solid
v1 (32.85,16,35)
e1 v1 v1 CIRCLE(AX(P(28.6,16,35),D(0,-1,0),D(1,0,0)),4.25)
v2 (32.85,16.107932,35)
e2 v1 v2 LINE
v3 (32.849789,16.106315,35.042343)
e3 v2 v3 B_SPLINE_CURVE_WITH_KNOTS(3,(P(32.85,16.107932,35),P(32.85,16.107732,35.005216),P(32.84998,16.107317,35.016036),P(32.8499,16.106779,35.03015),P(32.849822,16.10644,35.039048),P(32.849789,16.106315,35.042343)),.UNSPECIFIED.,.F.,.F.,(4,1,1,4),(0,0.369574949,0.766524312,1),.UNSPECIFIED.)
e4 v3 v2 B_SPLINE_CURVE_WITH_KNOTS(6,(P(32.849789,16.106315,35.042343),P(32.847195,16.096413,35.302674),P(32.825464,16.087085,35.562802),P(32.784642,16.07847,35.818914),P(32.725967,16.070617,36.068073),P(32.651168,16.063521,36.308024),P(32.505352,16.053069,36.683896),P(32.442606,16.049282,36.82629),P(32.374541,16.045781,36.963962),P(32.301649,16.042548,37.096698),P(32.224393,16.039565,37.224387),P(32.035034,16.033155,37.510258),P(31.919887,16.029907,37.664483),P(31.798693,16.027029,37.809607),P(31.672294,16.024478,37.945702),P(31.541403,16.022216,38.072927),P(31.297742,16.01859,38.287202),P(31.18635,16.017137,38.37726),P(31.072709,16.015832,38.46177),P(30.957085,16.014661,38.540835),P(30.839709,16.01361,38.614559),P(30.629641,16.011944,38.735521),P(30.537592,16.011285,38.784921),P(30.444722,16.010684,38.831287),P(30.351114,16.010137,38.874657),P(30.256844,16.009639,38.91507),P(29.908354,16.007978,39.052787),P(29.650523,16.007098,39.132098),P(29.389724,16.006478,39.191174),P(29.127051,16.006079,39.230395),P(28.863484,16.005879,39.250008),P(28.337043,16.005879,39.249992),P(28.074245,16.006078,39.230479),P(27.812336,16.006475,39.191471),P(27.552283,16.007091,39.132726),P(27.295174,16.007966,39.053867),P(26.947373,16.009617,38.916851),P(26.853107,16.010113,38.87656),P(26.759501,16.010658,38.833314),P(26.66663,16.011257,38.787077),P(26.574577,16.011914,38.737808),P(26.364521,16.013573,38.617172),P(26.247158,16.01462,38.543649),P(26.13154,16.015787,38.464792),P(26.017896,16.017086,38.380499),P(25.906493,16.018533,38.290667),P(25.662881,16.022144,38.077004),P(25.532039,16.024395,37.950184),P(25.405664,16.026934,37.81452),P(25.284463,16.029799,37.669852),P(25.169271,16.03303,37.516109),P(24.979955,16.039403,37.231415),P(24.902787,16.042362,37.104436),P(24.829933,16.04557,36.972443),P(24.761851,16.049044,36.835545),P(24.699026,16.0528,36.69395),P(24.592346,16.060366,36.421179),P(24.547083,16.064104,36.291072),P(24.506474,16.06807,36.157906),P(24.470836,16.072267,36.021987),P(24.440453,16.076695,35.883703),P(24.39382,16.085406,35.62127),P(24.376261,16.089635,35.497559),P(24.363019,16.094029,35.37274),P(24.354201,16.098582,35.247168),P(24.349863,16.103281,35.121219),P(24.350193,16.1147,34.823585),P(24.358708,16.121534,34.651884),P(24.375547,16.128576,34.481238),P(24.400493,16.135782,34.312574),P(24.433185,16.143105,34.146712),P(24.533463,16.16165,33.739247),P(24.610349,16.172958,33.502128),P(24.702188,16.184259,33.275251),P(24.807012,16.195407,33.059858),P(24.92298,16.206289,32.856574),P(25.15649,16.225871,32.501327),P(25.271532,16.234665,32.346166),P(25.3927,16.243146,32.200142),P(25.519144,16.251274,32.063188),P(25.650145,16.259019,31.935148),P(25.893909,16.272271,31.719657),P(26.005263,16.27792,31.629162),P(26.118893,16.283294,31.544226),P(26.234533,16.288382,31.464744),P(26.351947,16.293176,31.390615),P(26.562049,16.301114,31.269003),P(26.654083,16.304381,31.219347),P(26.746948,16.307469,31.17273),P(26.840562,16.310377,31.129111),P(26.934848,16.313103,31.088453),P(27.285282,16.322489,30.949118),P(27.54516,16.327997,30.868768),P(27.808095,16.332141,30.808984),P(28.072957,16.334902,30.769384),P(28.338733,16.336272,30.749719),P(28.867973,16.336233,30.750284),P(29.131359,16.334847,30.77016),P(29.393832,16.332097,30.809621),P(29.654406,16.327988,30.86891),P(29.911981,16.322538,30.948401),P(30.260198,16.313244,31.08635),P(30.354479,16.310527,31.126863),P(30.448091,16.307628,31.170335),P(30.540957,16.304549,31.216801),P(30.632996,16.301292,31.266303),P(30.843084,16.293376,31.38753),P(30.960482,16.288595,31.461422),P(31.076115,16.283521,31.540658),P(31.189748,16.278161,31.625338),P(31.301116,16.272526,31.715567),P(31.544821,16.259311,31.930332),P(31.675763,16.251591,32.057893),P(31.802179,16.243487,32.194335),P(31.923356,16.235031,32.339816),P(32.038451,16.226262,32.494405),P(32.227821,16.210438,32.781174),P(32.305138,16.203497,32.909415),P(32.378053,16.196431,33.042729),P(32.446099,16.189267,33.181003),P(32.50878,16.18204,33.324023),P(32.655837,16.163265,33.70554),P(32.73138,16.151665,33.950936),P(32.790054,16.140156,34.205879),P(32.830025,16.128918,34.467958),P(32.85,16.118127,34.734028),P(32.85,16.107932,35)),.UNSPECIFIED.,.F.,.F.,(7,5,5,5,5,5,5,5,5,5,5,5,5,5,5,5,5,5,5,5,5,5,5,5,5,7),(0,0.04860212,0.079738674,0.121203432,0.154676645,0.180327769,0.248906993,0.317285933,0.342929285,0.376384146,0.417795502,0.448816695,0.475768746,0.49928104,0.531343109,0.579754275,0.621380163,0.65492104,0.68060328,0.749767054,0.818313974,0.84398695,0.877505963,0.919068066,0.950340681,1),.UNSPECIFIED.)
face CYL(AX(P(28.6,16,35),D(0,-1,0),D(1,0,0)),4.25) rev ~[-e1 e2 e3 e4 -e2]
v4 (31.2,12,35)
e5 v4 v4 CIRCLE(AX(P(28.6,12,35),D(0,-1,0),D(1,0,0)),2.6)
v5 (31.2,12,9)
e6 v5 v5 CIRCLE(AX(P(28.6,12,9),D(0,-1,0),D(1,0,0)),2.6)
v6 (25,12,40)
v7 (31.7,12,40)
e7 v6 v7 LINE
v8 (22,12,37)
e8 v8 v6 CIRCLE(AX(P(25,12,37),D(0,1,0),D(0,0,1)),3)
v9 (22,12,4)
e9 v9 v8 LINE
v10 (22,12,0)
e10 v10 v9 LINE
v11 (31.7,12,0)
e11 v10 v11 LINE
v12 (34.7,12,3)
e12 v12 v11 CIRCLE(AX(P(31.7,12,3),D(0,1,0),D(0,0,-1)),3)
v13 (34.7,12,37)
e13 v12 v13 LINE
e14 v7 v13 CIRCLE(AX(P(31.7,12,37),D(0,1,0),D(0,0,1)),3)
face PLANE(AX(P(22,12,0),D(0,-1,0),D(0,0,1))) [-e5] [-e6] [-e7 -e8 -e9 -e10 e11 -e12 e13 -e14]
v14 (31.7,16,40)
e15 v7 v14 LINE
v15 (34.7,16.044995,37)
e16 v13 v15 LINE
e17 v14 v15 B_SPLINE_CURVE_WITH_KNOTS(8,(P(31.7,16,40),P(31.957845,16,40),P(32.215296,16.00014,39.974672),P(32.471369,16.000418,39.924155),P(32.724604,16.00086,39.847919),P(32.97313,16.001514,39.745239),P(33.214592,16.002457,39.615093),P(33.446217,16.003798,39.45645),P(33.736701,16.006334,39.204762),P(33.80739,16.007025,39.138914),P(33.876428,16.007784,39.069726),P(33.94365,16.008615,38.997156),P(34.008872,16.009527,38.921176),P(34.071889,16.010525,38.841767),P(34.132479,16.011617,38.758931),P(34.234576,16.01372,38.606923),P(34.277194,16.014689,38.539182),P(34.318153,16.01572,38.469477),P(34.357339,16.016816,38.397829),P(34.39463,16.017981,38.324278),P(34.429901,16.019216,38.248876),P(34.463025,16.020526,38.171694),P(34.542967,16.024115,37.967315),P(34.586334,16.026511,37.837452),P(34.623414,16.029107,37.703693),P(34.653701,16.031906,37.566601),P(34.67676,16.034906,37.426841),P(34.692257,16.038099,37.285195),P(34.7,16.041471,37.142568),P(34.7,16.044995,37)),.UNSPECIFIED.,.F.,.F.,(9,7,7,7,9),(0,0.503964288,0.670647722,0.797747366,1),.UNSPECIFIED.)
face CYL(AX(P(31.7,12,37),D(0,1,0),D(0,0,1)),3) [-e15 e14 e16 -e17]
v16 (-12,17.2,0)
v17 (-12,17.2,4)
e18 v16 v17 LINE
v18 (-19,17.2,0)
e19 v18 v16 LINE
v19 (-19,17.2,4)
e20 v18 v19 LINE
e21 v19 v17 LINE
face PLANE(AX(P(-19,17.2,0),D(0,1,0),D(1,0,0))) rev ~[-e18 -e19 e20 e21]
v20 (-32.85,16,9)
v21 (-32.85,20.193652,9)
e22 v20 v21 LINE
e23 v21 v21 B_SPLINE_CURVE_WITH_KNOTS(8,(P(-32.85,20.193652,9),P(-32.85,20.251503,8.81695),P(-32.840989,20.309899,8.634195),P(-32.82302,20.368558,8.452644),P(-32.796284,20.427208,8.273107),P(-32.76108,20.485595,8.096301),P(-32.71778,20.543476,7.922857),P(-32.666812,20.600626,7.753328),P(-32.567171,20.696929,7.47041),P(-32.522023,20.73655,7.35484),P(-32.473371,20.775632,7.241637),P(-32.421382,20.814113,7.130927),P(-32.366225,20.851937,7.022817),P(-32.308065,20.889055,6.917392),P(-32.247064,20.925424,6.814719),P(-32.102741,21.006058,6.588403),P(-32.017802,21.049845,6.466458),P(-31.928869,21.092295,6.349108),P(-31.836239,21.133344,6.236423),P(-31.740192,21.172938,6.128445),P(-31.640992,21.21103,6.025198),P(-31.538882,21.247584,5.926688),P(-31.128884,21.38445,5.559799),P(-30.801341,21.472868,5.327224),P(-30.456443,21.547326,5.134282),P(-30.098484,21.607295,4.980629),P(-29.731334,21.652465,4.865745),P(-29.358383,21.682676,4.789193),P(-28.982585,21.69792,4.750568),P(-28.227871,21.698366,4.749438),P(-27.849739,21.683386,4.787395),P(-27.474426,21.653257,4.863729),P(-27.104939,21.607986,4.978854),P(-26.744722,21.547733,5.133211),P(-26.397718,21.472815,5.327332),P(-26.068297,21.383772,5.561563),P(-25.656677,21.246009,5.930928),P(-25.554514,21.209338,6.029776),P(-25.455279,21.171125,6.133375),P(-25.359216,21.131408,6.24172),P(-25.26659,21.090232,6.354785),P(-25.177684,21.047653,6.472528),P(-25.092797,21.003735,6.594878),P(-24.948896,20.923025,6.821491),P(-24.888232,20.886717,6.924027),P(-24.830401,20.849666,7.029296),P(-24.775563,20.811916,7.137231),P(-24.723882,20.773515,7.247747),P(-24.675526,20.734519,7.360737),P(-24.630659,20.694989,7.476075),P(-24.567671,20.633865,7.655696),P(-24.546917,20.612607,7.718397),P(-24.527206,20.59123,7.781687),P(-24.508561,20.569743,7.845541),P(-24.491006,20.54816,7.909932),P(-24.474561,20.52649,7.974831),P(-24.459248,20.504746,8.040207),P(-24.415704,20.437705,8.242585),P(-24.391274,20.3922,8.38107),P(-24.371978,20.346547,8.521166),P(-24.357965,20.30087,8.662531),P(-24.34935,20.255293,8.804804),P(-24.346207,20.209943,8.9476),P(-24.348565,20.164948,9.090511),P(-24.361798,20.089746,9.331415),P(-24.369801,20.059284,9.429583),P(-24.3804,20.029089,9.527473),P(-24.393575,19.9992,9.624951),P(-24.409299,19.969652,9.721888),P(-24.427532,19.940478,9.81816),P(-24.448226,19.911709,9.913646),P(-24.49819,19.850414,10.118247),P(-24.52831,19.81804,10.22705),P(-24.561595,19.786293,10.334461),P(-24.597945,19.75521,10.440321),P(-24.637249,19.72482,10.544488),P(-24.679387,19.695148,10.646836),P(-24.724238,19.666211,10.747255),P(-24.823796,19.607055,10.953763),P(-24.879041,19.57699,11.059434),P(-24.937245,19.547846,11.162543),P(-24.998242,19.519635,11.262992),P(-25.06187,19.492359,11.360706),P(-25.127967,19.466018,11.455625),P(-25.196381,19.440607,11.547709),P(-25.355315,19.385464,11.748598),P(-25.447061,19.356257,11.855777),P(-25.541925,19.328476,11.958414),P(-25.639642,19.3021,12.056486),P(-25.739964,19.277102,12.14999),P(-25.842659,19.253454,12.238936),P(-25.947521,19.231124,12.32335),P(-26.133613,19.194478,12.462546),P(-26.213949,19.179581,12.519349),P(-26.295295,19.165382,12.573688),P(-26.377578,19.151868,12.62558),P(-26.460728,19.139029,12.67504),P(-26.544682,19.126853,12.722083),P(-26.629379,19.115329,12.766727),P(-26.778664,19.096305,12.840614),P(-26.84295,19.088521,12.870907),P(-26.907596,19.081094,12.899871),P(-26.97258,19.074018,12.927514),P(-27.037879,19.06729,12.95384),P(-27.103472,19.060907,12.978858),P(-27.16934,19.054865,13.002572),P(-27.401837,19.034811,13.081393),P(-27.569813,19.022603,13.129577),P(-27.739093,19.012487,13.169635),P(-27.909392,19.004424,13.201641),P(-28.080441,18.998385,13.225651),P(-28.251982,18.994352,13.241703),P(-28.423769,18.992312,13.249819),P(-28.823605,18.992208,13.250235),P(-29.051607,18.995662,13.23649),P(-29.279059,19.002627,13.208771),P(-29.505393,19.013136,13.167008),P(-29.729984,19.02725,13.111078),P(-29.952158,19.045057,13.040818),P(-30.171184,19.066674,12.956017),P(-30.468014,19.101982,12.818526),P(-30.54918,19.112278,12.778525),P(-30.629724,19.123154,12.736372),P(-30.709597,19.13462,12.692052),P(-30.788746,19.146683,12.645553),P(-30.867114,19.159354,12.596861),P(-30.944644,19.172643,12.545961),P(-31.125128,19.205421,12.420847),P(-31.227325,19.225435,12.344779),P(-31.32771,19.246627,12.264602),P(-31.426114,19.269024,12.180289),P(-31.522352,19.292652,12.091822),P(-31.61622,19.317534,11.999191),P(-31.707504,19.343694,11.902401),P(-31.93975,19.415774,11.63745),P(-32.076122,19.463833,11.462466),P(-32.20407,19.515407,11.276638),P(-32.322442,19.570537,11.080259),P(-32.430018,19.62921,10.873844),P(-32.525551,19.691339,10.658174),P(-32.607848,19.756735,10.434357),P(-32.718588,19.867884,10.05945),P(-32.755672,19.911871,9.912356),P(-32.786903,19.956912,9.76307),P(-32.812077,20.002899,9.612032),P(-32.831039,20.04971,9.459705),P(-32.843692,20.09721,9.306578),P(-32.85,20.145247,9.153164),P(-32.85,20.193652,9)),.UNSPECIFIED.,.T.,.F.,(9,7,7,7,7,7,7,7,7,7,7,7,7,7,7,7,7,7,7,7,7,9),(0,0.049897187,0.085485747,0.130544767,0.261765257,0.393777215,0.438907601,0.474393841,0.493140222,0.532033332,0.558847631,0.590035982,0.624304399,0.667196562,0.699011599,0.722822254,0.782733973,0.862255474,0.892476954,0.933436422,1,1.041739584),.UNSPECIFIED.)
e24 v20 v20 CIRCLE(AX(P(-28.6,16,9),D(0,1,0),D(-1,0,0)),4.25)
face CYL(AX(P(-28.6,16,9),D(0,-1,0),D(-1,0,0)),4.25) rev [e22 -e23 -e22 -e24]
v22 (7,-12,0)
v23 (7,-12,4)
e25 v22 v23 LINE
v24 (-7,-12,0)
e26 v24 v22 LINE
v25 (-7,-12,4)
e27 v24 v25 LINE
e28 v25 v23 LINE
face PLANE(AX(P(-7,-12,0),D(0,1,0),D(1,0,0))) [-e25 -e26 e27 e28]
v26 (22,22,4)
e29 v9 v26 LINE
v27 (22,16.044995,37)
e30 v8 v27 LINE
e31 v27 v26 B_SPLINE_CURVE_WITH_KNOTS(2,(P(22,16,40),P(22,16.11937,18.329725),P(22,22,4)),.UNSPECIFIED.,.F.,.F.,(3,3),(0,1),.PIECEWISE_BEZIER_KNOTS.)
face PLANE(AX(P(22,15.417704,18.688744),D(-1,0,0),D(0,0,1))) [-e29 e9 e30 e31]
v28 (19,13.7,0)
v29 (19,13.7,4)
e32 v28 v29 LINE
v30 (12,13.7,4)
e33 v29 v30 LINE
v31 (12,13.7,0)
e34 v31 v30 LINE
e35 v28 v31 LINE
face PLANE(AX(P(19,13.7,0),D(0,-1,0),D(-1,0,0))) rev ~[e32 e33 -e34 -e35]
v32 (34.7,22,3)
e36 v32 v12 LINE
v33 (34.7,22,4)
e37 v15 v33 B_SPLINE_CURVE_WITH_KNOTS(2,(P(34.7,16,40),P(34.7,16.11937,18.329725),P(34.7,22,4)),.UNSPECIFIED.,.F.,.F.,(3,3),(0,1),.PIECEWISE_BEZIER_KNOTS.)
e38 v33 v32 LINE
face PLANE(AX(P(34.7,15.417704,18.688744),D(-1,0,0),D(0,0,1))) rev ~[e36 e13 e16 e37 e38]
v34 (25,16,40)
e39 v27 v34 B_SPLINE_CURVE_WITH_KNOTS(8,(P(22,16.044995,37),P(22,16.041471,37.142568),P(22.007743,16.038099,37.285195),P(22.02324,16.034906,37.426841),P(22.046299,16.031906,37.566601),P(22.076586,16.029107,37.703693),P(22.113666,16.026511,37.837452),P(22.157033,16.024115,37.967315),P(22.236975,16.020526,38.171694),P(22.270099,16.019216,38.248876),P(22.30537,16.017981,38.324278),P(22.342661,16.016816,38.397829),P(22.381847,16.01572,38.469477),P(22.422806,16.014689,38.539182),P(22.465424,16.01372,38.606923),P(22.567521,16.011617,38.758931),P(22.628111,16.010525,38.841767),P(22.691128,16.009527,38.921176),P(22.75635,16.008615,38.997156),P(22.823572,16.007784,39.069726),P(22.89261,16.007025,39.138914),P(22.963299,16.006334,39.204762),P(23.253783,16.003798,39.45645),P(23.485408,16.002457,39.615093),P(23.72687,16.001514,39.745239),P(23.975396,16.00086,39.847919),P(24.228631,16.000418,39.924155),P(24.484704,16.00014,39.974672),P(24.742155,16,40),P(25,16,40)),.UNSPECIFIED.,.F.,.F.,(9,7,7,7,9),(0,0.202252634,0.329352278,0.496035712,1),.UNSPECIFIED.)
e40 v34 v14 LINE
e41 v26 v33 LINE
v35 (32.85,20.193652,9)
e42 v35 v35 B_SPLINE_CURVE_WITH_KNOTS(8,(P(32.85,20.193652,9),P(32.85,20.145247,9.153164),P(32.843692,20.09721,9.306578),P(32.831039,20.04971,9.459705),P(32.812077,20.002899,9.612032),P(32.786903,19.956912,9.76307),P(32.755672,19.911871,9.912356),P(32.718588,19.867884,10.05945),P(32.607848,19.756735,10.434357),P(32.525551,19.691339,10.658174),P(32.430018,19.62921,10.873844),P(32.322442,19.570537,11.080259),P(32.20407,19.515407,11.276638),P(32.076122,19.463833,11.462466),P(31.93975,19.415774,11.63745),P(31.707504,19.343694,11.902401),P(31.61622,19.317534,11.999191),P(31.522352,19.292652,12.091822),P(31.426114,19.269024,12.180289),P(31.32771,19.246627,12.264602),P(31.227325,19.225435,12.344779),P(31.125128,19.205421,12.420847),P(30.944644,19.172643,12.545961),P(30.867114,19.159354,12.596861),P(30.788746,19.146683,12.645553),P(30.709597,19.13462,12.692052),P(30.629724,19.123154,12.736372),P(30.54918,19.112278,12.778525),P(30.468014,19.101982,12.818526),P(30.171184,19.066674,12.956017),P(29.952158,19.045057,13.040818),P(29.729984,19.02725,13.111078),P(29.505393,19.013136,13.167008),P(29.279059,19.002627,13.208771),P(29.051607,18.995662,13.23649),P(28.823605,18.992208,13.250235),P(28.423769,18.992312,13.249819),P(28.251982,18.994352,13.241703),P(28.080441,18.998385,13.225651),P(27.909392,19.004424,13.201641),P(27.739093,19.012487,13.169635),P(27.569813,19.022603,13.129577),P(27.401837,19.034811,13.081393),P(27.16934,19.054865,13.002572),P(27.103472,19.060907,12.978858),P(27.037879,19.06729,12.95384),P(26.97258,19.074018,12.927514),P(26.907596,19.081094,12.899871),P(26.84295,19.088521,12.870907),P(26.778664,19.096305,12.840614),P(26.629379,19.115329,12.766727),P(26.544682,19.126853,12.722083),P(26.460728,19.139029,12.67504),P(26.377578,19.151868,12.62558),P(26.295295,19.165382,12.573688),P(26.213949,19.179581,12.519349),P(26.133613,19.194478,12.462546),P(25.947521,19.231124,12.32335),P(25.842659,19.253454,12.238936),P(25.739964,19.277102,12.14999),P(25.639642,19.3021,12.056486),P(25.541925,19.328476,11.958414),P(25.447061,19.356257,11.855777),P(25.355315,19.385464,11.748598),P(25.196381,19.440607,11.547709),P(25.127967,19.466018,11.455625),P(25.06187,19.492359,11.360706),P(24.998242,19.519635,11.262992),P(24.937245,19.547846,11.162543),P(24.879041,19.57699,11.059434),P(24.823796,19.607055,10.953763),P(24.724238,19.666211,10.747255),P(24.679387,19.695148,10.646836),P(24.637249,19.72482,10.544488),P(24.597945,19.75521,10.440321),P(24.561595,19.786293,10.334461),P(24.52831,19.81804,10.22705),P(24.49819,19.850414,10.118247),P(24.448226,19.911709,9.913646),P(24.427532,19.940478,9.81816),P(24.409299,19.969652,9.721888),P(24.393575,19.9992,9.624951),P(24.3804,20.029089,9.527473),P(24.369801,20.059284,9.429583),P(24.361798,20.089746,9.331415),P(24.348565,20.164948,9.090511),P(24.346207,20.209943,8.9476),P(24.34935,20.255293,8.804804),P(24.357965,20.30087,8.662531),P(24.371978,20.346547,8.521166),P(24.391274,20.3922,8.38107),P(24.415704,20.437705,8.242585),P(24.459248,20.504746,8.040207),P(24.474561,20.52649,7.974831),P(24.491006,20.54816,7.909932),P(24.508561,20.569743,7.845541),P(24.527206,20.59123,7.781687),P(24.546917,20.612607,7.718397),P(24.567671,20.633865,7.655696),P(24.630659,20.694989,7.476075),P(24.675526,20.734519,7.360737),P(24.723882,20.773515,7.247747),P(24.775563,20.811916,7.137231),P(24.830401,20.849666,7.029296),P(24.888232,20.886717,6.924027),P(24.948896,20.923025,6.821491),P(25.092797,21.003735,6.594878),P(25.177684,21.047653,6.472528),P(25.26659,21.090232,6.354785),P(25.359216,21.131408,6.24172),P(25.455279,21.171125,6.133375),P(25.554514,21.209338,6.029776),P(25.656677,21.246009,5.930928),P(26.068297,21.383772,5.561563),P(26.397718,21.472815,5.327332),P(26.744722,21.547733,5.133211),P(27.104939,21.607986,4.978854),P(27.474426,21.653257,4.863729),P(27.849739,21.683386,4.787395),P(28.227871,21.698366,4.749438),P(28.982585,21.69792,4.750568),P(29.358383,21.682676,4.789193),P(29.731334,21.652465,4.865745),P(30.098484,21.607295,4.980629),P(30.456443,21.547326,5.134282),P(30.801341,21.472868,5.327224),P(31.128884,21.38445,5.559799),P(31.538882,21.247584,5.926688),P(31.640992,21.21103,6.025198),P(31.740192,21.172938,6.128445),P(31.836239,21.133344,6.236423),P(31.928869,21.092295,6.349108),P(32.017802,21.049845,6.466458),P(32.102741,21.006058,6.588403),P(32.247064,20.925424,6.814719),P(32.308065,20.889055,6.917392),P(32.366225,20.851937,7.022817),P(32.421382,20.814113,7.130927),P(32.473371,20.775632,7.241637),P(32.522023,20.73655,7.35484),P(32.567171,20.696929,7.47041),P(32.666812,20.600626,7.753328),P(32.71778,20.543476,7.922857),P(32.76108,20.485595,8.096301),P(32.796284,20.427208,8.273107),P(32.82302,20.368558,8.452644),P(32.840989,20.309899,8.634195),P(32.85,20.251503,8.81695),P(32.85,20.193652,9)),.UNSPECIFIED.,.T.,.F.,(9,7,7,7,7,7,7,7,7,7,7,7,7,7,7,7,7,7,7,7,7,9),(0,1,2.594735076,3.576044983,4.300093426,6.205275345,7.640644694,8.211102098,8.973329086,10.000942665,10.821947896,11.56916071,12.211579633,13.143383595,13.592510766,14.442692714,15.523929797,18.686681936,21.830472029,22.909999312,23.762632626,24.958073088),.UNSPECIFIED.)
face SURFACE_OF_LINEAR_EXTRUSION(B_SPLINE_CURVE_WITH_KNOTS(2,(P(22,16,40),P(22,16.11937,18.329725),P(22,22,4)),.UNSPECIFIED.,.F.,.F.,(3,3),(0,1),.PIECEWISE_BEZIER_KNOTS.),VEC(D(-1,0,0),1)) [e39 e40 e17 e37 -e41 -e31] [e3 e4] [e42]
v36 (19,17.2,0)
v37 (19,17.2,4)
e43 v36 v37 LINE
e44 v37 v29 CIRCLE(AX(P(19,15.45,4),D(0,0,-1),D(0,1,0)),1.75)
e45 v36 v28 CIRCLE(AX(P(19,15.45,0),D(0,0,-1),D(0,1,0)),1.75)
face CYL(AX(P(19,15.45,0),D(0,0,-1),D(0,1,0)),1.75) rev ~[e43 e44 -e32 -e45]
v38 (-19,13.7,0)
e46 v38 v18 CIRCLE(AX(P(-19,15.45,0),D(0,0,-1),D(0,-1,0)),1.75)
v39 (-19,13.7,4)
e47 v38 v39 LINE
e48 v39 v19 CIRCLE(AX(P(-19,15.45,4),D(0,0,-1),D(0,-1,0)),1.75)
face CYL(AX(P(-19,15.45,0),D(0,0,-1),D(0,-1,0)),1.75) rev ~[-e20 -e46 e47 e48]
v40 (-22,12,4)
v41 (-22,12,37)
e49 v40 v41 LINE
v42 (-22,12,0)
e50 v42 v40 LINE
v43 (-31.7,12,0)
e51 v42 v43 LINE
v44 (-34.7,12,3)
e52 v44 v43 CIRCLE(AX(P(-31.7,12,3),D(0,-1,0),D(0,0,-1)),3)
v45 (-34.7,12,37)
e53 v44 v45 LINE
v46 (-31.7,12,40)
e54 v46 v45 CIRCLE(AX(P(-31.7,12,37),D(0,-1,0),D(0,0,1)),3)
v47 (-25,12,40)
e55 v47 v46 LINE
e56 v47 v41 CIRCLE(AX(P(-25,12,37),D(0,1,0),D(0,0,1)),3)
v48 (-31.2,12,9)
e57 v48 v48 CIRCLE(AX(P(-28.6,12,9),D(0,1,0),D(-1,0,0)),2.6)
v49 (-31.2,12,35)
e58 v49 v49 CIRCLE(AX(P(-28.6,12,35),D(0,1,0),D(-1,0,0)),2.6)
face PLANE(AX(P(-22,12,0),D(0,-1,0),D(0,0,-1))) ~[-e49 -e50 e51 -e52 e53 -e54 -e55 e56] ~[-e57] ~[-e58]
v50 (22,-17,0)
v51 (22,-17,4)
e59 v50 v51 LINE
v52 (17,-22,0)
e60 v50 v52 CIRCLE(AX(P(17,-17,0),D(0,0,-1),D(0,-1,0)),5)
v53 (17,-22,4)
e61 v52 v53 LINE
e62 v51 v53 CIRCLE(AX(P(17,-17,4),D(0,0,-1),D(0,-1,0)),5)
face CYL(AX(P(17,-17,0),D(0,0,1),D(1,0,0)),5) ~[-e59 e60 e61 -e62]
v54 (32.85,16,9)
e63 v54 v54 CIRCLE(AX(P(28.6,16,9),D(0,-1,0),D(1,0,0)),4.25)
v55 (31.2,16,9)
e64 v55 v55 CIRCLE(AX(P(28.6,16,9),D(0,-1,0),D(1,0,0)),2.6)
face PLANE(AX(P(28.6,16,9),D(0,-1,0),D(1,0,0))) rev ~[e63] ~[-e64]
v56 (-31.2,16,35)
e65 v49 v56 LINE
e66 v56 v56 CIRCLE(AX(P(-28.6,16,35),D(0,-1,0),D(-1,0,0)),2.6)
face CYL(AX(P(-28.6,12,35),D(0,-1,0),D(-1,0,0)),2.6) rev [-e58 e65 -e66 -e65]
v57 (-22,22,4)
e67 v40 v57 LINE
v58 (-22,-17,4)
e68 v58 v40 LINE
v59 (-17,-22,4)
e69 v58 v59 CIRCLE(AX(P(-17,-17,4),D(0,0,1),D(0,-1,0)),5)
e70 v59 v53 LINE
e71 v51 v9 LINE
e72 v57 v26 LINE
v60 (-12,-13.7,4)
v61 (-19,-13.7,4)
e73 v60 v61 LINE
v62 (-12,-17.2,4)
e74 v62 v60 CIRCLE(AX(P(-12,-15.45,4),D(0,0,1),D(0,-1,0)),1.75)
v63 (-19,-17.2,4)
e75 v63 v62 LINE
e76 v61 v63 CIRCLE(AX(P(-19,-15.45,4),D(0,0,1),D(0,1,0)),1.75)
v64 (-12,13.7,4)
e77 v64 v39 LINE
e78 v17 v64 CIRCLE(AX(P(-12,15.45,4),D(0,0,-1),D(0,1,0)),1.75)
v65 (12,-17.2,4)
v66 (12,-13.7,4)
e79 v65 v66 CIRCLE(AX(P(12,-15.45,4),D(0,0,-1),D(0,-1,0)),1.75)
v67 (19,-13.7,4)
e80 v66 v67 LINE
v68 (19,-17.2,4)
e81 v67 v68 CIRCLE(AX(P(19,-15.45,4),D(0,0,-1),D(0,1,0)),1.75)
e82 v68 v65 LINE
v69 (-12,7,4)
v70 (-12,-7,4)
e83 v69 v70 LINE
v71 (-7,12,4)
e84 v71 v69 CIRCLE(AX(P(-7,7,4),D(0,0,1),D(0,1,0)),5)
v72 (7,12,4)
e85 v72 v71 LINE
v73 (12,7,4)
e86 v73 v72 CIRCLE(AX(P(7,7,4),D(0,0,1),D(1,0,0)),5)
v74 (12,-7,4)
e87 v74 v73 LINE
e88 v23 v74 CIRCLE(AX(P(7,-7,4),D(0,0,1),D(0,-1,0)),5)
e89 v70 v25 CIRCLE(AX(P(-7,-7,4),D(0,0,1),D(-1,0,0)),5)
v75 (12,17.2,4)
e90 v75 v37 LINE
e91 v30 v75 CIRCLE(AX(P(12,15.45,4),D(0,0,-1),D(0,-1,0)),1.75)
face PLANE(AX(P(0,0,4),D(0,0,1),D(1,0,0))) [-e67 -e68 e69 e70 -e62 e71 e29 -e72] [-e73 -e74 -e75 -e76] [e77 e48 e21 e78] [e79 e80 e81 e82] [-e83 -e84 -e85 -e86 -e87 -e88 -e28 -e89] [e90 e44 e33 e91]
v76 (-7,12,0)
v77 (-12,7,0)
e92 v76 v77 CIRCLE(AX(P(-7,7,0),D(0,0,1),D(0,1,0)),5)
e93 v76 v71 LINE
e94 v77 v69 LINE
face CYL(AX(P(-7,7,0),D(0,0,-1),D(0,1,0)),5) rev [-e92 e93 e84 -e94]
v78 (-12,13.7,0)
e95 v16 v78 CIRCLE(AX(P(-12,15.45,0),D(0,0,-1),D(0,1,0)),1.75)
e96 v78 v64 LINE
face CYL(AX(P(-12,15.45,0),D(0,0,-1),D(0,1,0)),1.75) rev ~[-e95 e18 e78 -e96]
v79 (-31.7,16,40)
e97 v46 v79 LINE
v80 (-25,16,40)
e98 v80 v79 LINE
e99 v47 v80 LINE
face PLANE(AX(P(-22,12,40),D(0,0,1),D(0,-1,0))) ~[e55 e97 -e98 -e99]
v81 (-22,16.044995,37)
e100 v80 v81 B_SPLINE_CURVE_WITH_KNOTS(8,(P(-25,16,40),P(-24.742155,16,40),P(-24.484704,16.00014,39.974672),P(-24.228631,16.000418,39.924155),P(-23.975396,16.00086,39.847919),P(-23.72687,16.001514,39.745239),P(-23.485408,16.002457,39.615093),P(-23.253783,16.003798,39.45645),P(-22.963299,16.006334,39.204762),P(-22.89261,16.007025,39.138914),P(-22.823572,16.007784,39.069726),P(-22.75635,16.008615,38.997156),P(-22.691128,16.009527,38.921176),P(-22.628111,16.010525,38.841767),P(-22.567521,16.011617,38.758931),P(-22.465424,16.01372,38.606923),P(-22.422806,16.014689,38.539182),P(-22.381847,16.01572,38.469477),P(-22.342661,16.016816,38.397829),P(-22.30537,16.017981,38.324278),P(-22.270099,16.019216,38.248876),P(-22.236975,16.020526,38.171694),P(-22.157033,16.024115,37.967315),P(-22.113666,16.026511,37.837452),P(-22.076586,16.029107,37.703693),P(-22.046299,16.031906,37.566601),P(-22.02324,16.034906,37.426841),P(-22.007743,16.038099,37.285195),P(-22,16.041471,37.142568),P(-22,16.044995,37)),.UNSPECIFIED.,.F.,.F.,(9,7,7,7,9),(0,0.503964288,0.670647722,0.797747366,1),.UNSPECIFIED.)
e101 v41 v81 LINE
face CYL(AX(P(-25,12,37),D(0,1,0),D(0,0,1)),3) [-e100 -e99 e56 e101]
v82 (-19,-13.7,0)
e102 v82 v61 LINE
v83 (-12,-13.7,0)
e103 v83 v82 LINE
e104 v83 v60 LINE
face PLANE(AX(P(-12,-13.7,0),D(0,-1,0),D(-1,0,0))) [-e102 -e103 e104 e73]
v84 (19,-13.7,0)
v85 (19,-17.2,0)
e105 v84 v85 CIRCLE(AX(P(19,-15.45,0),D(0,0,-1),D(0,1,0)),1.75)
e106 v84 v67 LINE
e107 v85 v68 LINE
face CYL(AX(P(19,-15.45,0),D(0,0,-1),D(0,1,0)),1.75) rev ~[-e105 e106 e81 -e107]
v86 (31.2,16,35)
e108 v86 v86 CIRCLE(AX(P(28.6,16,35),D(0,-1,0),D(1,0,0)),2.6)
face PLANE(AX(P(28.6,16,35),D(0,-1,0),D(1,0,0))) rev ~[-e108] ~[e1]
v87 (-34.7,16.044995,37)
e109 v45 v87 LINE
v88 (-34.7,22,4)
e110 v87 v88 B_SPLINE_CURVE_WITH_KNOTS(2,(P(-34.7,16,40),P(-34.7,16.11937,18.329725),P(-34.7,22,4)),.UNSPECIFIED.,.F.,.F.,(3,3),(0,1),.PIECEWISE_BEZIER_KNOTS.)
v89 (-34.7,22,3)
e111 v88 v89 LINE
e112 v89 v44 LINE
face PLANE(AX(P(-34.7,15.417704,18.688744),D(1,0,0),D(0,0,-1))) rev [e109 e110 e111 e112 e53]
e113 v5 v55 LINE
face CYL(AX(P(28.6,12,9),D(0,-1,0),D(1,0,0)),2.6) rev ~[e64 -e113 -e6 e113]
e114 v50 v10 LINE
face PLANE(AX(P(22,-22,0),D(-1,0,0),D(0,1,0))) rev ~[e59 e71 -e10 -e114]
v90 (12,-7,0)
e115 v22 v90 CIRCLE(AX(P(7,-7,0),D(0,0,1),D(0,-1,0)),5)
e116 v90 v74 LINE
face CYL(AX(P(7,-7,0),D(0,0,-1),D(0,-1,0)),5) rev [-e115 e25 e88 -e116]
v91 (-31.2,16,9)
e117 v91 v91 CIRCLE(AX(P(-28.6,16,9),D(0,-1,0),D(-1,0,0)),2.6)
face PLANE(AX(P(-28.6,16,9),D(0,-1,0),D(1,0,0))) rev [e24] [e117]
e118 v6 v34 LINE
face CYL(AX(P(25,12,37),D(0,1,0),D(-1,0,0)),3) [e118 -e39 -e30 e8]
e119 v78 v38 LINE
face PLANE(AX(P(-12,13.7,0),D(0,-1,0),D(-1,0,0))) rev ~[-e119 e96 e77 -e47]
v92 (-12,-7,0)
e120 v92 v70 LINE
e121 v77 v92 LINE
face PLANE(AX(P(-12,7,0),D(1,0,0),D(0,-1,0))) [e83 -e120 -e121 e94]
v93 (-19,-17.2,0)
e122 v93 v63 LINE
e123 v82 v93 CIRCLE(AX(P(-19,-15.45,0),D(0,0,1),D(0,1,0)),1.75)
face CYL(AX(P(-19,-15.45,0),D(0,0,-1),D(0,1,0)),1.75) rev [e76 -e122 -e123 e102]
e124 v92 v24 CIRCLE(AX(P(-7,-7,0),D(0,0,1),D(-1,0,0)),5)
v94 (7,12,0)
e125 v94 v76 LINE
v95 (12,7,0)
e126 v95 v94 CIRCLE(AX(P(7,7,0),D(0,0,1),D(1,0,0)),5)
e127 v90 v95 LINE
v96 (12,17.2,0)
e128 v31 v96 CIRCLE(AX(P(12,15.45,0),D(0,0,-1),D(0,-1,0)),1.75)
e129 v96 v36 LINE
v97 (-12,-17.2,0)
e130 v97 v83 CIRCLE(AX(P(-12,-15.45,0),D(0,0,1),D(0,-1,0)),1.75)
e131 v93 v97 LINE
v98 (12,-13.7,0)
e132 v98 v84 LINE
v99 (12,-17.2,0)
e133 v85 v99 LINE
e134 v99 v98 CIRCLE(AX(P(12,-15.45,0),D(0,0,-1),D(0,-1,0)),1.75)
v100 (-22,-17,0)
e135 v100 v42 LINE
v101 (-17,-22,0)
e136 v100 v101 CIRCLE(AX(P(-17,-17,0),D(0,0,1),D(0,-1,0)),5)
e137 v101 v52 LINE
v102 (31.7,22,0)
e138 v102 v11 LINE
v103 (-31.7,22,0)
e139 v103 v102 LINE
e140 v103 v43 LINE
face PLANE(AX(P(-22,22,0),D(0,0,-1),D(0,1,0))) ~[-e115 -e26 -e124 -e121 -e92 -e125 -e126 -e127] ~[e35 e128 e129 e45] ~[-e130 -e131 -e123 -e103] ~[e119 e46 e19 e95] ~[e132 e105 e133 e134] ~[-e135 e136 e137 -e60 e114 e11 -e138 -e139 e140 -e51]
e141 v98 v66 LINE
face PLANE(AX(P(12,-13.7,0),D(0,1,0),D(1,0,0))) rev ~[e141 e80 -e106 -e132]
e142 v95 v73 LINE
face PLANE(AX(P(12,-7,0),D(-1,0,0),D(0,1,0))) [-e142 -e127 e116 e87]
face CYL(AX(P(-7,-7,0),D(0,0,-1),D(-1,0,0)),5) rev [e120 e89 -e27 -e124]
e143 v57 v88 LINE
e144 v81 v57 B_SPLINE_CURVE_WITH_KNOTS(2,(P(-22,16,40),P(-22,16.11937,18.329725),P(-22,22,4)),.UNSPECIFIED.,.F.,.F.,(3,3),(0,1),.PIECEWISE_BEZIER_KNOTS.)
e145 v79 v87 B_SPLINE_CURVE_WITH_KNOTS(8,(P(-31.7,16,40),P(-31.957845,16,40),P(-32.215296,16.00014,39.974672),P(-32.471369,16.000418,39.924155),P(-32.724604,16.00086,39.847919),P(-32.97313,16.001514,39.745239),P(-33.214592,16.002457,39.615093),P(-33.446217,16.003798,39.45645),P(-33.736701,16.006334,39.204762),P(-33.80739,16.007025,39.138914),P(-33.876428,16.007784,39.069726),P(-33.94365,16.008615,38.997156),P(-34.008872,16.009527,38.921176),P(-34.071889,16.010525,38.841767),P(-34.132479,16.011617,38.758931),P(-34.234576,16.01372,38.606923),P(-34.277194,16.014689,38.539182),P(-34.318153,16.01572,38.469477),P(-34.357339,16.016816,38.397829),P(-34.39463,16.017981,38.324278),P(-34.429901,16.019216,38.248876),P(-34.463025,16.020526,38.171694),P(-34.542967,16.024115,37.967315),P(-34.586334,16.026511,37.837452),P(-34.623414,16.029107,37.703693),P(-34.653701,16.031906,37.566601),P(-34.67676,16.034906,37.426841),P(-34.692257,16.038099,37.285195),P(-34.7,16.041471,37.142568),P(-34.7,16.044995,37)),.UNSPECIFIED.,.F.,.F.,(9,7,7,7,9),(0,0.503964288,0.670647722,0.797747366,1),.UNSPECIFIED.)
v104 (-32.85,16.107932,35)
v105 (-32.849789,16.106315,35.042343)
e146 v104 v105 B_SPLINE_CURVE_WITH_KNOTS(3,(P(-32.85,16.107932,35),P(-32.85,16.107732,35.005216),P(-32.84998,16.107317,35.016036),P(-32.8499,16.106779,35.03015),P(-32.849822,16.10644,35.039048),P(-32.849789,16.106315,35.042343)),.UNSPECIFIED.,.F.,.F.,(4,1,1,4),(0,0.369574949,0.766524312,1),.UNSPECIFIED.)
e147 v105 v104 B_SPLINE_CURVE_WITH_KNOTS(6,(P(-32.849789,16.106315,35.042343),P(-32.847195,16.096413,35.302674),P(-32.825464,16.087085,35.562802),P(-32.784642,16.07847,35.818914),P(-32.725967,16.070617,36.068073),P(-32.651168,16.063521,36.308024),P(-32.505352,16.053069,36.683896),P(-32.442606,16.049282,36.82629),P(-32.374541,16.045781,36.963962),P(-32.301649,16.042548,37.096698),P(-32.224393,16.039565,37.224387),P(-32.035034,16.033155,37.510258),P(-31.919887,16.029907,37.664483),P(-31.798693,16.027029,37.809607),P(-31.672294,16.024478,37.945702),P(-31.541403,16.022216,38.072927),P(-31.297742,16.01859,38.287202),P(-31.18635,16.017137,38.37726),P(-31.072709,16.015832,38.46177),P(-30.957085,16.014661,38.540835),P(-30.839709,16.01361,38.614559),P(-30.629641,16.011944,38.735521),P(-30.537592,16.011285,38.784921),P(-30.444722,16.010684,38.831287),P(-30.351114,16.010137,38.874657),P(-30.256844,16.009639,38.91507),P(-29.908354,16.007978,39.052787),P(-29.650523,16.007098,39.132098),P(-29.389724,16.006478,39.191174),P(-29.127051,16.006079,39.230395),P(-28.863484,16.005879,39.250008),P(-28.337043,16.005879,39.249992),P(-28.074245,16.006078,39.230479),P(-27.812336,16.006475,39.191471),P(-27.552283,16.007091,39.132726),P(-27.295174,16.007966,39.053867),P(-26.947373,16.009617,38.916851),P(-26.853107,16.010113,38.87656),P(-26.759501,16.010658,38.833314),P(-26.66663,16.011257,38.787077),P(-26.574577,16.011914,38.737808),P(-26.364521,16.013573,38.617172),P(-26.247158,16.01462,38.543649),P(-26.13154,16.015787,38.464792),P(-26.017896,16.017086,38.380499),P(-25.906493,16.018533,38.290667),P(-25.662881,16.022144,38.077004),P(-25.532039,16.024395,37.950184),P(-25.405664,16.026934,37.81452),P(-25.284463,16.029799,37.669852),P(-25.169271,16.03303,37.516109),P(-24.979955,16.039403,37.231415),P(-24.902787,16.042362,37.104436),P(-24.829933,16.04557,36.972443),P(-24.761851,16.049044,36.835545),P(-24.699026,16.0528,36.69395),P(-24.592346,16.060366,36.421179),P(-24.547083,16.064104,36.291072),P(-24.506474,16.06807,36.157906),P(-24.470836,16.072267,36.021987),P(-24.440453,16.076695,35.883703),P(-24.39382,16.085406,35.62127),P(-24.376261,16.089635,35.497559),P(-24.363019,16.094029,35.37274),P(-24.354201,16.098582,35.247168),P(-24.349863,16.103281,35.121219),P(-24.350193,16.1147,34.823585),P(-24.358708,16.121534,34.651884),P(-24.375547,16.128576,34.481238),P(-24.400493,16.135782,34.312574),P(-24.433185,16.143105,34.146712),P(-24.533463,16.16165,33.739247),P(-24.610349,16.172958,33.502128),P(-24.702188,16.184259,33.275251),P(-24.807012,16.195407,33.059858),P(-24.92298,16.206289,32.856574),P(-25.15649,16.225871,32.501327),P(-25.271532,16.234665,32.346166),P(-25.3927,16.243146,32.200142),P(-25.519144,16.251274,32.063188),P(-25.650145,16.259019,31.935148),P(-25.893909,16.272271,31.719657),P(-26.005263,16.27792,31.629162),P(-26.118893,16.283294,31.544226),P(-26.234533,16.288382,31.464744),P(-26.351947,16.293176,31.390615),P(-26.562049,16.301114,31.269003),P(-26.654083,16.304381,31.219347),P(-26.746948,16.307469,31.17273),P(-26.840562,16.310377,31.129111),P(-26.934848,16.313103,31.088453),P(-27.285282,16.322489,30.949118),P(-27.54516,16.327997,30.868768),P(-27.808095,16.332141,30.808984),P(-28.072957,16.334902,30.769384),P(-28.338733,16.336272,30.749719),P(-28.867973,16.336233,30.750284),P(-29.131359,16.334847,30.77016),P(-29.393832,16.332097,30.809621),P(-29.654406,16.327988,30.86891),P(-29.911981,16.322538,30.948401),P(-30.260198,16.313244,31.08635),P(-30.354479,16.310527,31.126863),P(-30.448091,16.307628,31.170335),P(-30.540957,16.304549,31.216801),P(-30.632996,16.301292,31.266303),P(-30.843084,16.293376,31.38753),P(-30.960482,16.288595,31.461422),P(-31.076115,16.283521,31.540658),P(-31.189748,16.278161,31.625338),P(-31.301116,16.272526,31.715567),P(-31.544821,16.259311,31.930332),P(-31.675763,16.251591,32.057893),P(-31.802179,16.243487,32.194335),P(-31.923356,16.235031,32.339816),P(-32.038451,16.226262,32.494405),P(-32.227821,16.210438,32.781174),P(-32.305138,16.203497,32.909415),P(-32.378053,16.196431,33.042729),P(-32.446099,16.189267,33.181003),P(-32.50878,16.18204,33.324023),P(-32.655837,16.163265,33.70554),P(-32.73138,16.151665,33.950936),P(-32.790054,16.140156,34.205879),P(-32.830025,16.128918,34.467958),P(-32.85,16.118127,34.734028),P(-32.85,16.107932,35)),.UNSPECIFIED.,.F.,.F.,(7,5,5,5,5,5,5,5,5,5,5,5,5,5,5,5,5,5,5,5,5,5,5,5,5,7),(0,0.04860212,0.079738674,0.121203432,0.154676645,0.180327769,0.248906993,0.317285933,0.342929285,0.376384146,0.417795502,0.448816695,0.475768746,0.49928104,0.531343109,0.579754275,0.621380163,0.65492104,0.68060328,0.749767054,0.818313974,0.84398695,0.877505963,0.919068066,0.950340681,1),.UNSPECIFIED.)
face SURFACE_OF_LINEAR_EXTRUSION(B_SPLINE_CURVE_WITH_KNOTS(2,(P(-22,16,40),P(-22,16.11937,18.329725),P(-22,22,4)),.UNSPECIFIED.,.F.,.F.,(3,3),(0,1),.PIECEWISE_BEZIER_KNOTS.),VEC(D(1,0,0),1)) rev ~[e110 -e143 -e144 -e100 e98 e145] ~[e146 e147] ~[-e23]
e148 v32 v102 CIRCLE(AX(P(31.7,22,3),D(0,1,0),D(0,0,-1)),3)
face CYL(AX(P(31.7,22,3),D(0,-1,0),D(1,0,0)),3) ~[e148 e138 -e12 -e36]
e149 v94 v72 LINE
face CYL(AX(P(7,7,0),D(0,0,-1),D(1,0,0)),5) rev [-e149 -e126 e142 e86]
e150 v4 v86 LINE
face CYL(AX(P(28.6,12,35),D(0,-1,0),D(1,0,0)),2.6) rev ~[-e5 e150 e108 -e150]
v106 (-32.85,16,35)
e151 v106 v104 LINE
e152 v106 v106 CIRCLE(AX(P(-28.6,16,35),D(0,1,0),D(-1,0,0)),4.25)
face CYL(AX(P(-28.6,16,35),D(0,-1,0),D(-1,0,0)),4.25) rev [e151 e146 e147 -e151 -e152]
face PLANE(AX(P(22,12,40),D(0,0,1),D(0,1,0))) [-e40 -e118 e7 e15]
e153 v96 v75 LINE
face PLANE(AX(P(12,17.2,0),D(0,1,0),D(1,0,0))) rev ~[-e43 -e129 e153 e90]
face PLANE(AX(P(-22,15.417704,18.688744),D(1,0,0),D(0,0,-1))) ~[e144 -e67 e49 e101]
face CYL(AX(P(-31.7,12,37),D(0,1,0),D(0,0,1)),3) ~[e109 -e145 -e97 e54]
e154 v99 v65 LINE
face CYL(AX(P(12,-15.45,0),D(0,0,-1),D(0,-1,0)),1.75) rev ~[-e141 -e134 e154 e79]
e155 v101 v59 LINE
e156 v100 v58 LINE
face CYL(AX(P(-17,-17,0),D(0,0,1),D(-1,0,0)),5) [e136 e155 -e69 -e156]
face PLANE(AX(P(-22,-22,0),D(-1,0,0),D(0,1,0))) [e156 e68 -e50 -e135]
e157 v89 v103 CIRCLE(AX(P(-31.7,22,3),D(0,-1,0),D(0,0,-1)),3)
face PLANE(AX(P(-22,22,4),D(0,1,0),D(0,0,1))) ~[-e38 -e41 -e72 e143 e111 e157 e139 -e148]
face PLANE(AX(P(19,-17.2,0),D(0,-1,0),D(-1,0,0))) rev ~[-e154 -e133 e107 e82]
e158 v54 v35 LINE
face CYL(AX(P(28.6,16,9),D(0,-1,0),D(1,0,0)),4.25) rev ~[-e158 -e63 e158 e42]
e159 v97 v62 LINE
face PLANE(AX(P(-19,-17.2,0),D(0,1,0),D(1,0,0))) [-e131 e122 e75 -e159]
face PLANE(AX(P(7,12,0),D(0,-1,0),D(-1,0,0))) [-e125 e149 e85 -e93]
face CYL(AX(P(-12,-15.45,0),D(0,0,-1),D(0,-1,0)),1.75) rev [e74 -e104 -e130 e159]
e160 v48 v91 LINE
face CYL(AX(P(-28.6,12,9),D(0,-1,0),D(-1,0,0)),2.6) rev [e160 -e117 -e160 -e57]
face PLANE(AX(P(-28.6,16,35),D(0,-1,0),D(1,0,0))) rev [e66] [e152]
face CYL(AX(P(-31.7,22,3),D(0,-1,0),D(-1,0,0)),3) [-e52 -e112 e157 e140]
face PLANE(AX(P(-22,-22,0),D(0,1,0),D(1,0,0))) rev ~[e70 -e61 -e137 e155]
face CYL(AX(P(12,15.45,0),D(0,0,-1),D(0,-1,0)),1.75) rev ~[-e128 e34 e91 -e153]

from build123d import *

# Parameters (mm, degrees)
SKETCH1_W           = 44
SKETCH1_H           = 44
BOSS_EXTRUDE1_DEPTH = 4
BOSS_EXTRUDE2_DEPTH = 12.7
SKETCH3_R           = 2.6
CUT_EXTRUDE1_DEPTH  = 63.929246102
SKETCH4_R           = 4.25
CUT_EXTRUDE2_DEPTH  = 66.177373489
FILLET1_R           = 3
FILLET2_R           = 5


with BuildPart() as part:
    # Sketch1 → Boss-Extrude1 (new body)
    with BuildSketch(Plane.XY):
        Rectangle(SKETCH1_W, SKETCH1_H)
        with BuildLine():
            Line((7, 12), (-7, 12))
            ThreePointArc((-7, 12), (-10.535533906, 10.535533906), (-12, 7))
            Line((-12, 7), (-12, -7))
            ThreePointArc((-12, -7), (-10.535533906, -10.535533906), (-7, -12))
            Line((-7, -12), (7, -12))
            ThreePointArc((7, -12), (10.535533906, -10.535533906), (12, -7))
            Line((12, -7), (12, 7))
            ThreePointArc((12, 7), (10.535533906, 10.535533906), (7, 12))
        make_face(mode=Mode.SUBTRACT)
        with BuildLine():
            Line((-19, 17.2), (-12, 17.2))
            ThreePointArc((-12, 17.2), (-10.25, 15.45), (-12, 13.7))
            Line((-12, 13.7), (-19, 13.7))
            ThreePointArc((-19, 13.7), (-20.75, 15.45), (-19, 17.2))
        make_face(mode=Mode.SUBTRACT)
        with BuildLine():
            Line((-19, -17.2), (-12, -17.2))
            ThreePointArc((-12, -17.2), (-10.25, -15.45), (-12, -13.7))
            Line((-12, -13.7), (-19, -13.7))
            ThreePointArc((-19, -13.7), (-20.75, -15.45), (-19, -17.2))
        make_face(mode=Mode.SUBTRACT)
        with BuildLine():
            Line((12, 17.2), (19, 17.2))
            ThreePointArc((19, 17.2), (20.75, 15.45), (19, 13.7))
            Line((19, 13.7), (12, 13.7))
            ThreePointArc((12, 13.7), (10.25, 15.45), (12, 17.2))
        make_face(mode=Mode.SUBTRACT)
        with BuildLine():
            Line((12, -13.7), (19, -13.7))
            ThreePointArc((19, -13.7), (20.75, -15.45), (19, -17.2))
            Line((19, -17.2), (12, -17.2))
            ThreePointArc((12, -17.2), (10.25, -15.45), (12, -13.7))
        make_face(mode=Mode.SUBTRACT)
    extrude(amount=BOSS_EXTRUDE1_DEPTH)

    # Sketch2 → Boss-Extrude2 (add)
    with BuildSketch(Plane(origin=(22, 0, 0), x_dir=(0, 0, -1), z_dir=(1, 0, 0))):
        with BuildLine():
            Line((0, 12), (-40, 12))
            Line((-40, 12), (-40, 16))
            add(Edge.make_bspline(
                [(-40, 16), (-18.32972451, 16.119369884), (-4, 22)],
                knots=[0, 0, 0, 1, 1, 1], degree=2))
            Line((-4, 22), (0, 22))
            Line((0, 22), (0, 12))
        make_face()
    boss_extrude2 = extrude(amount=BOSS_EXTRUDE2_DEPTH)

    # Sketch3 → Cut-Extrude1 (cut, through all)
    with BuildSketch(Plane.XZ.offset(-12)):
        with Locations((28.6, 35)):
            Circle(SKETCH3_R)
        with Locations((28.6, 9)):
            Circle(SKETCH3_R)
    cut_extrude1 = extrude(amount=-CUT_EXTRUDE1_DEPTH, mode=Mode.SUBTRACT)

    # Sketch4 → Cut-Extrude2 (cut, through all)
    with BuildSketch(Plane(origin=(0, 16, 0), x_dir=(-1, 0, 0), z_dir=(0, -1, 0))):
        with Locations(Location((-28.6, -9, 0), (0, 0, 180))):
            Circle(SKETCH4_R)
        with Locations(Location((-28.6, -35, 0), (0, 0, 180))):
            Circle(SKETCH4_R)
    cut_extrude2 = extrude(amount=-CUT_EXTRUDE2_DEPTH, mode=Mode.SUBTRACT)

    # Mirror1: Boss-Extrude2, Cut-Extrude1, Cut-Extrude2 across plane
    add(boss_extrude2.mirror(Plane(origin=(0, 0, 0), x_dir=(0, 0, 1), z_dir=(1, 0, 0))))
    add(cut_extrude1.mirror(Plane(origin=(0, 0, 0), x_dir=(0, 0, 1), z_dir=(1, 0, 0))), mode=Mode.SUBTRACT)
    add(cut_extrude2.mirror(Plane(origin=(0, 0, 0), x_dir=(0, 0, 1), z_dir=(1, 0, 0))), mode=Mode.SUBTRACT)

    # Fillet1
    fillet1_edges = [part.edges().sort_by_distance(p)[0] for p in [
        (34.7, 17, 0),
        (34.7, 14, 40),
        (-22, 14, 40),
        (-34.7, 17, 0),
        (-34.7, 14, 40),
        (22, 14, 40),
    ]]
    fillet(fillet1_edges, radius=FILLET1_R)

    # Fillet2
    fillet2_edges = [part.edges().sort_by_distance(p)[0] for p in [
        (22, -22, 2),
        (-22, -22, 2),
    ]]
    fillet(fillet2_edges, radius=FILLET2_R)


solid = part.part
